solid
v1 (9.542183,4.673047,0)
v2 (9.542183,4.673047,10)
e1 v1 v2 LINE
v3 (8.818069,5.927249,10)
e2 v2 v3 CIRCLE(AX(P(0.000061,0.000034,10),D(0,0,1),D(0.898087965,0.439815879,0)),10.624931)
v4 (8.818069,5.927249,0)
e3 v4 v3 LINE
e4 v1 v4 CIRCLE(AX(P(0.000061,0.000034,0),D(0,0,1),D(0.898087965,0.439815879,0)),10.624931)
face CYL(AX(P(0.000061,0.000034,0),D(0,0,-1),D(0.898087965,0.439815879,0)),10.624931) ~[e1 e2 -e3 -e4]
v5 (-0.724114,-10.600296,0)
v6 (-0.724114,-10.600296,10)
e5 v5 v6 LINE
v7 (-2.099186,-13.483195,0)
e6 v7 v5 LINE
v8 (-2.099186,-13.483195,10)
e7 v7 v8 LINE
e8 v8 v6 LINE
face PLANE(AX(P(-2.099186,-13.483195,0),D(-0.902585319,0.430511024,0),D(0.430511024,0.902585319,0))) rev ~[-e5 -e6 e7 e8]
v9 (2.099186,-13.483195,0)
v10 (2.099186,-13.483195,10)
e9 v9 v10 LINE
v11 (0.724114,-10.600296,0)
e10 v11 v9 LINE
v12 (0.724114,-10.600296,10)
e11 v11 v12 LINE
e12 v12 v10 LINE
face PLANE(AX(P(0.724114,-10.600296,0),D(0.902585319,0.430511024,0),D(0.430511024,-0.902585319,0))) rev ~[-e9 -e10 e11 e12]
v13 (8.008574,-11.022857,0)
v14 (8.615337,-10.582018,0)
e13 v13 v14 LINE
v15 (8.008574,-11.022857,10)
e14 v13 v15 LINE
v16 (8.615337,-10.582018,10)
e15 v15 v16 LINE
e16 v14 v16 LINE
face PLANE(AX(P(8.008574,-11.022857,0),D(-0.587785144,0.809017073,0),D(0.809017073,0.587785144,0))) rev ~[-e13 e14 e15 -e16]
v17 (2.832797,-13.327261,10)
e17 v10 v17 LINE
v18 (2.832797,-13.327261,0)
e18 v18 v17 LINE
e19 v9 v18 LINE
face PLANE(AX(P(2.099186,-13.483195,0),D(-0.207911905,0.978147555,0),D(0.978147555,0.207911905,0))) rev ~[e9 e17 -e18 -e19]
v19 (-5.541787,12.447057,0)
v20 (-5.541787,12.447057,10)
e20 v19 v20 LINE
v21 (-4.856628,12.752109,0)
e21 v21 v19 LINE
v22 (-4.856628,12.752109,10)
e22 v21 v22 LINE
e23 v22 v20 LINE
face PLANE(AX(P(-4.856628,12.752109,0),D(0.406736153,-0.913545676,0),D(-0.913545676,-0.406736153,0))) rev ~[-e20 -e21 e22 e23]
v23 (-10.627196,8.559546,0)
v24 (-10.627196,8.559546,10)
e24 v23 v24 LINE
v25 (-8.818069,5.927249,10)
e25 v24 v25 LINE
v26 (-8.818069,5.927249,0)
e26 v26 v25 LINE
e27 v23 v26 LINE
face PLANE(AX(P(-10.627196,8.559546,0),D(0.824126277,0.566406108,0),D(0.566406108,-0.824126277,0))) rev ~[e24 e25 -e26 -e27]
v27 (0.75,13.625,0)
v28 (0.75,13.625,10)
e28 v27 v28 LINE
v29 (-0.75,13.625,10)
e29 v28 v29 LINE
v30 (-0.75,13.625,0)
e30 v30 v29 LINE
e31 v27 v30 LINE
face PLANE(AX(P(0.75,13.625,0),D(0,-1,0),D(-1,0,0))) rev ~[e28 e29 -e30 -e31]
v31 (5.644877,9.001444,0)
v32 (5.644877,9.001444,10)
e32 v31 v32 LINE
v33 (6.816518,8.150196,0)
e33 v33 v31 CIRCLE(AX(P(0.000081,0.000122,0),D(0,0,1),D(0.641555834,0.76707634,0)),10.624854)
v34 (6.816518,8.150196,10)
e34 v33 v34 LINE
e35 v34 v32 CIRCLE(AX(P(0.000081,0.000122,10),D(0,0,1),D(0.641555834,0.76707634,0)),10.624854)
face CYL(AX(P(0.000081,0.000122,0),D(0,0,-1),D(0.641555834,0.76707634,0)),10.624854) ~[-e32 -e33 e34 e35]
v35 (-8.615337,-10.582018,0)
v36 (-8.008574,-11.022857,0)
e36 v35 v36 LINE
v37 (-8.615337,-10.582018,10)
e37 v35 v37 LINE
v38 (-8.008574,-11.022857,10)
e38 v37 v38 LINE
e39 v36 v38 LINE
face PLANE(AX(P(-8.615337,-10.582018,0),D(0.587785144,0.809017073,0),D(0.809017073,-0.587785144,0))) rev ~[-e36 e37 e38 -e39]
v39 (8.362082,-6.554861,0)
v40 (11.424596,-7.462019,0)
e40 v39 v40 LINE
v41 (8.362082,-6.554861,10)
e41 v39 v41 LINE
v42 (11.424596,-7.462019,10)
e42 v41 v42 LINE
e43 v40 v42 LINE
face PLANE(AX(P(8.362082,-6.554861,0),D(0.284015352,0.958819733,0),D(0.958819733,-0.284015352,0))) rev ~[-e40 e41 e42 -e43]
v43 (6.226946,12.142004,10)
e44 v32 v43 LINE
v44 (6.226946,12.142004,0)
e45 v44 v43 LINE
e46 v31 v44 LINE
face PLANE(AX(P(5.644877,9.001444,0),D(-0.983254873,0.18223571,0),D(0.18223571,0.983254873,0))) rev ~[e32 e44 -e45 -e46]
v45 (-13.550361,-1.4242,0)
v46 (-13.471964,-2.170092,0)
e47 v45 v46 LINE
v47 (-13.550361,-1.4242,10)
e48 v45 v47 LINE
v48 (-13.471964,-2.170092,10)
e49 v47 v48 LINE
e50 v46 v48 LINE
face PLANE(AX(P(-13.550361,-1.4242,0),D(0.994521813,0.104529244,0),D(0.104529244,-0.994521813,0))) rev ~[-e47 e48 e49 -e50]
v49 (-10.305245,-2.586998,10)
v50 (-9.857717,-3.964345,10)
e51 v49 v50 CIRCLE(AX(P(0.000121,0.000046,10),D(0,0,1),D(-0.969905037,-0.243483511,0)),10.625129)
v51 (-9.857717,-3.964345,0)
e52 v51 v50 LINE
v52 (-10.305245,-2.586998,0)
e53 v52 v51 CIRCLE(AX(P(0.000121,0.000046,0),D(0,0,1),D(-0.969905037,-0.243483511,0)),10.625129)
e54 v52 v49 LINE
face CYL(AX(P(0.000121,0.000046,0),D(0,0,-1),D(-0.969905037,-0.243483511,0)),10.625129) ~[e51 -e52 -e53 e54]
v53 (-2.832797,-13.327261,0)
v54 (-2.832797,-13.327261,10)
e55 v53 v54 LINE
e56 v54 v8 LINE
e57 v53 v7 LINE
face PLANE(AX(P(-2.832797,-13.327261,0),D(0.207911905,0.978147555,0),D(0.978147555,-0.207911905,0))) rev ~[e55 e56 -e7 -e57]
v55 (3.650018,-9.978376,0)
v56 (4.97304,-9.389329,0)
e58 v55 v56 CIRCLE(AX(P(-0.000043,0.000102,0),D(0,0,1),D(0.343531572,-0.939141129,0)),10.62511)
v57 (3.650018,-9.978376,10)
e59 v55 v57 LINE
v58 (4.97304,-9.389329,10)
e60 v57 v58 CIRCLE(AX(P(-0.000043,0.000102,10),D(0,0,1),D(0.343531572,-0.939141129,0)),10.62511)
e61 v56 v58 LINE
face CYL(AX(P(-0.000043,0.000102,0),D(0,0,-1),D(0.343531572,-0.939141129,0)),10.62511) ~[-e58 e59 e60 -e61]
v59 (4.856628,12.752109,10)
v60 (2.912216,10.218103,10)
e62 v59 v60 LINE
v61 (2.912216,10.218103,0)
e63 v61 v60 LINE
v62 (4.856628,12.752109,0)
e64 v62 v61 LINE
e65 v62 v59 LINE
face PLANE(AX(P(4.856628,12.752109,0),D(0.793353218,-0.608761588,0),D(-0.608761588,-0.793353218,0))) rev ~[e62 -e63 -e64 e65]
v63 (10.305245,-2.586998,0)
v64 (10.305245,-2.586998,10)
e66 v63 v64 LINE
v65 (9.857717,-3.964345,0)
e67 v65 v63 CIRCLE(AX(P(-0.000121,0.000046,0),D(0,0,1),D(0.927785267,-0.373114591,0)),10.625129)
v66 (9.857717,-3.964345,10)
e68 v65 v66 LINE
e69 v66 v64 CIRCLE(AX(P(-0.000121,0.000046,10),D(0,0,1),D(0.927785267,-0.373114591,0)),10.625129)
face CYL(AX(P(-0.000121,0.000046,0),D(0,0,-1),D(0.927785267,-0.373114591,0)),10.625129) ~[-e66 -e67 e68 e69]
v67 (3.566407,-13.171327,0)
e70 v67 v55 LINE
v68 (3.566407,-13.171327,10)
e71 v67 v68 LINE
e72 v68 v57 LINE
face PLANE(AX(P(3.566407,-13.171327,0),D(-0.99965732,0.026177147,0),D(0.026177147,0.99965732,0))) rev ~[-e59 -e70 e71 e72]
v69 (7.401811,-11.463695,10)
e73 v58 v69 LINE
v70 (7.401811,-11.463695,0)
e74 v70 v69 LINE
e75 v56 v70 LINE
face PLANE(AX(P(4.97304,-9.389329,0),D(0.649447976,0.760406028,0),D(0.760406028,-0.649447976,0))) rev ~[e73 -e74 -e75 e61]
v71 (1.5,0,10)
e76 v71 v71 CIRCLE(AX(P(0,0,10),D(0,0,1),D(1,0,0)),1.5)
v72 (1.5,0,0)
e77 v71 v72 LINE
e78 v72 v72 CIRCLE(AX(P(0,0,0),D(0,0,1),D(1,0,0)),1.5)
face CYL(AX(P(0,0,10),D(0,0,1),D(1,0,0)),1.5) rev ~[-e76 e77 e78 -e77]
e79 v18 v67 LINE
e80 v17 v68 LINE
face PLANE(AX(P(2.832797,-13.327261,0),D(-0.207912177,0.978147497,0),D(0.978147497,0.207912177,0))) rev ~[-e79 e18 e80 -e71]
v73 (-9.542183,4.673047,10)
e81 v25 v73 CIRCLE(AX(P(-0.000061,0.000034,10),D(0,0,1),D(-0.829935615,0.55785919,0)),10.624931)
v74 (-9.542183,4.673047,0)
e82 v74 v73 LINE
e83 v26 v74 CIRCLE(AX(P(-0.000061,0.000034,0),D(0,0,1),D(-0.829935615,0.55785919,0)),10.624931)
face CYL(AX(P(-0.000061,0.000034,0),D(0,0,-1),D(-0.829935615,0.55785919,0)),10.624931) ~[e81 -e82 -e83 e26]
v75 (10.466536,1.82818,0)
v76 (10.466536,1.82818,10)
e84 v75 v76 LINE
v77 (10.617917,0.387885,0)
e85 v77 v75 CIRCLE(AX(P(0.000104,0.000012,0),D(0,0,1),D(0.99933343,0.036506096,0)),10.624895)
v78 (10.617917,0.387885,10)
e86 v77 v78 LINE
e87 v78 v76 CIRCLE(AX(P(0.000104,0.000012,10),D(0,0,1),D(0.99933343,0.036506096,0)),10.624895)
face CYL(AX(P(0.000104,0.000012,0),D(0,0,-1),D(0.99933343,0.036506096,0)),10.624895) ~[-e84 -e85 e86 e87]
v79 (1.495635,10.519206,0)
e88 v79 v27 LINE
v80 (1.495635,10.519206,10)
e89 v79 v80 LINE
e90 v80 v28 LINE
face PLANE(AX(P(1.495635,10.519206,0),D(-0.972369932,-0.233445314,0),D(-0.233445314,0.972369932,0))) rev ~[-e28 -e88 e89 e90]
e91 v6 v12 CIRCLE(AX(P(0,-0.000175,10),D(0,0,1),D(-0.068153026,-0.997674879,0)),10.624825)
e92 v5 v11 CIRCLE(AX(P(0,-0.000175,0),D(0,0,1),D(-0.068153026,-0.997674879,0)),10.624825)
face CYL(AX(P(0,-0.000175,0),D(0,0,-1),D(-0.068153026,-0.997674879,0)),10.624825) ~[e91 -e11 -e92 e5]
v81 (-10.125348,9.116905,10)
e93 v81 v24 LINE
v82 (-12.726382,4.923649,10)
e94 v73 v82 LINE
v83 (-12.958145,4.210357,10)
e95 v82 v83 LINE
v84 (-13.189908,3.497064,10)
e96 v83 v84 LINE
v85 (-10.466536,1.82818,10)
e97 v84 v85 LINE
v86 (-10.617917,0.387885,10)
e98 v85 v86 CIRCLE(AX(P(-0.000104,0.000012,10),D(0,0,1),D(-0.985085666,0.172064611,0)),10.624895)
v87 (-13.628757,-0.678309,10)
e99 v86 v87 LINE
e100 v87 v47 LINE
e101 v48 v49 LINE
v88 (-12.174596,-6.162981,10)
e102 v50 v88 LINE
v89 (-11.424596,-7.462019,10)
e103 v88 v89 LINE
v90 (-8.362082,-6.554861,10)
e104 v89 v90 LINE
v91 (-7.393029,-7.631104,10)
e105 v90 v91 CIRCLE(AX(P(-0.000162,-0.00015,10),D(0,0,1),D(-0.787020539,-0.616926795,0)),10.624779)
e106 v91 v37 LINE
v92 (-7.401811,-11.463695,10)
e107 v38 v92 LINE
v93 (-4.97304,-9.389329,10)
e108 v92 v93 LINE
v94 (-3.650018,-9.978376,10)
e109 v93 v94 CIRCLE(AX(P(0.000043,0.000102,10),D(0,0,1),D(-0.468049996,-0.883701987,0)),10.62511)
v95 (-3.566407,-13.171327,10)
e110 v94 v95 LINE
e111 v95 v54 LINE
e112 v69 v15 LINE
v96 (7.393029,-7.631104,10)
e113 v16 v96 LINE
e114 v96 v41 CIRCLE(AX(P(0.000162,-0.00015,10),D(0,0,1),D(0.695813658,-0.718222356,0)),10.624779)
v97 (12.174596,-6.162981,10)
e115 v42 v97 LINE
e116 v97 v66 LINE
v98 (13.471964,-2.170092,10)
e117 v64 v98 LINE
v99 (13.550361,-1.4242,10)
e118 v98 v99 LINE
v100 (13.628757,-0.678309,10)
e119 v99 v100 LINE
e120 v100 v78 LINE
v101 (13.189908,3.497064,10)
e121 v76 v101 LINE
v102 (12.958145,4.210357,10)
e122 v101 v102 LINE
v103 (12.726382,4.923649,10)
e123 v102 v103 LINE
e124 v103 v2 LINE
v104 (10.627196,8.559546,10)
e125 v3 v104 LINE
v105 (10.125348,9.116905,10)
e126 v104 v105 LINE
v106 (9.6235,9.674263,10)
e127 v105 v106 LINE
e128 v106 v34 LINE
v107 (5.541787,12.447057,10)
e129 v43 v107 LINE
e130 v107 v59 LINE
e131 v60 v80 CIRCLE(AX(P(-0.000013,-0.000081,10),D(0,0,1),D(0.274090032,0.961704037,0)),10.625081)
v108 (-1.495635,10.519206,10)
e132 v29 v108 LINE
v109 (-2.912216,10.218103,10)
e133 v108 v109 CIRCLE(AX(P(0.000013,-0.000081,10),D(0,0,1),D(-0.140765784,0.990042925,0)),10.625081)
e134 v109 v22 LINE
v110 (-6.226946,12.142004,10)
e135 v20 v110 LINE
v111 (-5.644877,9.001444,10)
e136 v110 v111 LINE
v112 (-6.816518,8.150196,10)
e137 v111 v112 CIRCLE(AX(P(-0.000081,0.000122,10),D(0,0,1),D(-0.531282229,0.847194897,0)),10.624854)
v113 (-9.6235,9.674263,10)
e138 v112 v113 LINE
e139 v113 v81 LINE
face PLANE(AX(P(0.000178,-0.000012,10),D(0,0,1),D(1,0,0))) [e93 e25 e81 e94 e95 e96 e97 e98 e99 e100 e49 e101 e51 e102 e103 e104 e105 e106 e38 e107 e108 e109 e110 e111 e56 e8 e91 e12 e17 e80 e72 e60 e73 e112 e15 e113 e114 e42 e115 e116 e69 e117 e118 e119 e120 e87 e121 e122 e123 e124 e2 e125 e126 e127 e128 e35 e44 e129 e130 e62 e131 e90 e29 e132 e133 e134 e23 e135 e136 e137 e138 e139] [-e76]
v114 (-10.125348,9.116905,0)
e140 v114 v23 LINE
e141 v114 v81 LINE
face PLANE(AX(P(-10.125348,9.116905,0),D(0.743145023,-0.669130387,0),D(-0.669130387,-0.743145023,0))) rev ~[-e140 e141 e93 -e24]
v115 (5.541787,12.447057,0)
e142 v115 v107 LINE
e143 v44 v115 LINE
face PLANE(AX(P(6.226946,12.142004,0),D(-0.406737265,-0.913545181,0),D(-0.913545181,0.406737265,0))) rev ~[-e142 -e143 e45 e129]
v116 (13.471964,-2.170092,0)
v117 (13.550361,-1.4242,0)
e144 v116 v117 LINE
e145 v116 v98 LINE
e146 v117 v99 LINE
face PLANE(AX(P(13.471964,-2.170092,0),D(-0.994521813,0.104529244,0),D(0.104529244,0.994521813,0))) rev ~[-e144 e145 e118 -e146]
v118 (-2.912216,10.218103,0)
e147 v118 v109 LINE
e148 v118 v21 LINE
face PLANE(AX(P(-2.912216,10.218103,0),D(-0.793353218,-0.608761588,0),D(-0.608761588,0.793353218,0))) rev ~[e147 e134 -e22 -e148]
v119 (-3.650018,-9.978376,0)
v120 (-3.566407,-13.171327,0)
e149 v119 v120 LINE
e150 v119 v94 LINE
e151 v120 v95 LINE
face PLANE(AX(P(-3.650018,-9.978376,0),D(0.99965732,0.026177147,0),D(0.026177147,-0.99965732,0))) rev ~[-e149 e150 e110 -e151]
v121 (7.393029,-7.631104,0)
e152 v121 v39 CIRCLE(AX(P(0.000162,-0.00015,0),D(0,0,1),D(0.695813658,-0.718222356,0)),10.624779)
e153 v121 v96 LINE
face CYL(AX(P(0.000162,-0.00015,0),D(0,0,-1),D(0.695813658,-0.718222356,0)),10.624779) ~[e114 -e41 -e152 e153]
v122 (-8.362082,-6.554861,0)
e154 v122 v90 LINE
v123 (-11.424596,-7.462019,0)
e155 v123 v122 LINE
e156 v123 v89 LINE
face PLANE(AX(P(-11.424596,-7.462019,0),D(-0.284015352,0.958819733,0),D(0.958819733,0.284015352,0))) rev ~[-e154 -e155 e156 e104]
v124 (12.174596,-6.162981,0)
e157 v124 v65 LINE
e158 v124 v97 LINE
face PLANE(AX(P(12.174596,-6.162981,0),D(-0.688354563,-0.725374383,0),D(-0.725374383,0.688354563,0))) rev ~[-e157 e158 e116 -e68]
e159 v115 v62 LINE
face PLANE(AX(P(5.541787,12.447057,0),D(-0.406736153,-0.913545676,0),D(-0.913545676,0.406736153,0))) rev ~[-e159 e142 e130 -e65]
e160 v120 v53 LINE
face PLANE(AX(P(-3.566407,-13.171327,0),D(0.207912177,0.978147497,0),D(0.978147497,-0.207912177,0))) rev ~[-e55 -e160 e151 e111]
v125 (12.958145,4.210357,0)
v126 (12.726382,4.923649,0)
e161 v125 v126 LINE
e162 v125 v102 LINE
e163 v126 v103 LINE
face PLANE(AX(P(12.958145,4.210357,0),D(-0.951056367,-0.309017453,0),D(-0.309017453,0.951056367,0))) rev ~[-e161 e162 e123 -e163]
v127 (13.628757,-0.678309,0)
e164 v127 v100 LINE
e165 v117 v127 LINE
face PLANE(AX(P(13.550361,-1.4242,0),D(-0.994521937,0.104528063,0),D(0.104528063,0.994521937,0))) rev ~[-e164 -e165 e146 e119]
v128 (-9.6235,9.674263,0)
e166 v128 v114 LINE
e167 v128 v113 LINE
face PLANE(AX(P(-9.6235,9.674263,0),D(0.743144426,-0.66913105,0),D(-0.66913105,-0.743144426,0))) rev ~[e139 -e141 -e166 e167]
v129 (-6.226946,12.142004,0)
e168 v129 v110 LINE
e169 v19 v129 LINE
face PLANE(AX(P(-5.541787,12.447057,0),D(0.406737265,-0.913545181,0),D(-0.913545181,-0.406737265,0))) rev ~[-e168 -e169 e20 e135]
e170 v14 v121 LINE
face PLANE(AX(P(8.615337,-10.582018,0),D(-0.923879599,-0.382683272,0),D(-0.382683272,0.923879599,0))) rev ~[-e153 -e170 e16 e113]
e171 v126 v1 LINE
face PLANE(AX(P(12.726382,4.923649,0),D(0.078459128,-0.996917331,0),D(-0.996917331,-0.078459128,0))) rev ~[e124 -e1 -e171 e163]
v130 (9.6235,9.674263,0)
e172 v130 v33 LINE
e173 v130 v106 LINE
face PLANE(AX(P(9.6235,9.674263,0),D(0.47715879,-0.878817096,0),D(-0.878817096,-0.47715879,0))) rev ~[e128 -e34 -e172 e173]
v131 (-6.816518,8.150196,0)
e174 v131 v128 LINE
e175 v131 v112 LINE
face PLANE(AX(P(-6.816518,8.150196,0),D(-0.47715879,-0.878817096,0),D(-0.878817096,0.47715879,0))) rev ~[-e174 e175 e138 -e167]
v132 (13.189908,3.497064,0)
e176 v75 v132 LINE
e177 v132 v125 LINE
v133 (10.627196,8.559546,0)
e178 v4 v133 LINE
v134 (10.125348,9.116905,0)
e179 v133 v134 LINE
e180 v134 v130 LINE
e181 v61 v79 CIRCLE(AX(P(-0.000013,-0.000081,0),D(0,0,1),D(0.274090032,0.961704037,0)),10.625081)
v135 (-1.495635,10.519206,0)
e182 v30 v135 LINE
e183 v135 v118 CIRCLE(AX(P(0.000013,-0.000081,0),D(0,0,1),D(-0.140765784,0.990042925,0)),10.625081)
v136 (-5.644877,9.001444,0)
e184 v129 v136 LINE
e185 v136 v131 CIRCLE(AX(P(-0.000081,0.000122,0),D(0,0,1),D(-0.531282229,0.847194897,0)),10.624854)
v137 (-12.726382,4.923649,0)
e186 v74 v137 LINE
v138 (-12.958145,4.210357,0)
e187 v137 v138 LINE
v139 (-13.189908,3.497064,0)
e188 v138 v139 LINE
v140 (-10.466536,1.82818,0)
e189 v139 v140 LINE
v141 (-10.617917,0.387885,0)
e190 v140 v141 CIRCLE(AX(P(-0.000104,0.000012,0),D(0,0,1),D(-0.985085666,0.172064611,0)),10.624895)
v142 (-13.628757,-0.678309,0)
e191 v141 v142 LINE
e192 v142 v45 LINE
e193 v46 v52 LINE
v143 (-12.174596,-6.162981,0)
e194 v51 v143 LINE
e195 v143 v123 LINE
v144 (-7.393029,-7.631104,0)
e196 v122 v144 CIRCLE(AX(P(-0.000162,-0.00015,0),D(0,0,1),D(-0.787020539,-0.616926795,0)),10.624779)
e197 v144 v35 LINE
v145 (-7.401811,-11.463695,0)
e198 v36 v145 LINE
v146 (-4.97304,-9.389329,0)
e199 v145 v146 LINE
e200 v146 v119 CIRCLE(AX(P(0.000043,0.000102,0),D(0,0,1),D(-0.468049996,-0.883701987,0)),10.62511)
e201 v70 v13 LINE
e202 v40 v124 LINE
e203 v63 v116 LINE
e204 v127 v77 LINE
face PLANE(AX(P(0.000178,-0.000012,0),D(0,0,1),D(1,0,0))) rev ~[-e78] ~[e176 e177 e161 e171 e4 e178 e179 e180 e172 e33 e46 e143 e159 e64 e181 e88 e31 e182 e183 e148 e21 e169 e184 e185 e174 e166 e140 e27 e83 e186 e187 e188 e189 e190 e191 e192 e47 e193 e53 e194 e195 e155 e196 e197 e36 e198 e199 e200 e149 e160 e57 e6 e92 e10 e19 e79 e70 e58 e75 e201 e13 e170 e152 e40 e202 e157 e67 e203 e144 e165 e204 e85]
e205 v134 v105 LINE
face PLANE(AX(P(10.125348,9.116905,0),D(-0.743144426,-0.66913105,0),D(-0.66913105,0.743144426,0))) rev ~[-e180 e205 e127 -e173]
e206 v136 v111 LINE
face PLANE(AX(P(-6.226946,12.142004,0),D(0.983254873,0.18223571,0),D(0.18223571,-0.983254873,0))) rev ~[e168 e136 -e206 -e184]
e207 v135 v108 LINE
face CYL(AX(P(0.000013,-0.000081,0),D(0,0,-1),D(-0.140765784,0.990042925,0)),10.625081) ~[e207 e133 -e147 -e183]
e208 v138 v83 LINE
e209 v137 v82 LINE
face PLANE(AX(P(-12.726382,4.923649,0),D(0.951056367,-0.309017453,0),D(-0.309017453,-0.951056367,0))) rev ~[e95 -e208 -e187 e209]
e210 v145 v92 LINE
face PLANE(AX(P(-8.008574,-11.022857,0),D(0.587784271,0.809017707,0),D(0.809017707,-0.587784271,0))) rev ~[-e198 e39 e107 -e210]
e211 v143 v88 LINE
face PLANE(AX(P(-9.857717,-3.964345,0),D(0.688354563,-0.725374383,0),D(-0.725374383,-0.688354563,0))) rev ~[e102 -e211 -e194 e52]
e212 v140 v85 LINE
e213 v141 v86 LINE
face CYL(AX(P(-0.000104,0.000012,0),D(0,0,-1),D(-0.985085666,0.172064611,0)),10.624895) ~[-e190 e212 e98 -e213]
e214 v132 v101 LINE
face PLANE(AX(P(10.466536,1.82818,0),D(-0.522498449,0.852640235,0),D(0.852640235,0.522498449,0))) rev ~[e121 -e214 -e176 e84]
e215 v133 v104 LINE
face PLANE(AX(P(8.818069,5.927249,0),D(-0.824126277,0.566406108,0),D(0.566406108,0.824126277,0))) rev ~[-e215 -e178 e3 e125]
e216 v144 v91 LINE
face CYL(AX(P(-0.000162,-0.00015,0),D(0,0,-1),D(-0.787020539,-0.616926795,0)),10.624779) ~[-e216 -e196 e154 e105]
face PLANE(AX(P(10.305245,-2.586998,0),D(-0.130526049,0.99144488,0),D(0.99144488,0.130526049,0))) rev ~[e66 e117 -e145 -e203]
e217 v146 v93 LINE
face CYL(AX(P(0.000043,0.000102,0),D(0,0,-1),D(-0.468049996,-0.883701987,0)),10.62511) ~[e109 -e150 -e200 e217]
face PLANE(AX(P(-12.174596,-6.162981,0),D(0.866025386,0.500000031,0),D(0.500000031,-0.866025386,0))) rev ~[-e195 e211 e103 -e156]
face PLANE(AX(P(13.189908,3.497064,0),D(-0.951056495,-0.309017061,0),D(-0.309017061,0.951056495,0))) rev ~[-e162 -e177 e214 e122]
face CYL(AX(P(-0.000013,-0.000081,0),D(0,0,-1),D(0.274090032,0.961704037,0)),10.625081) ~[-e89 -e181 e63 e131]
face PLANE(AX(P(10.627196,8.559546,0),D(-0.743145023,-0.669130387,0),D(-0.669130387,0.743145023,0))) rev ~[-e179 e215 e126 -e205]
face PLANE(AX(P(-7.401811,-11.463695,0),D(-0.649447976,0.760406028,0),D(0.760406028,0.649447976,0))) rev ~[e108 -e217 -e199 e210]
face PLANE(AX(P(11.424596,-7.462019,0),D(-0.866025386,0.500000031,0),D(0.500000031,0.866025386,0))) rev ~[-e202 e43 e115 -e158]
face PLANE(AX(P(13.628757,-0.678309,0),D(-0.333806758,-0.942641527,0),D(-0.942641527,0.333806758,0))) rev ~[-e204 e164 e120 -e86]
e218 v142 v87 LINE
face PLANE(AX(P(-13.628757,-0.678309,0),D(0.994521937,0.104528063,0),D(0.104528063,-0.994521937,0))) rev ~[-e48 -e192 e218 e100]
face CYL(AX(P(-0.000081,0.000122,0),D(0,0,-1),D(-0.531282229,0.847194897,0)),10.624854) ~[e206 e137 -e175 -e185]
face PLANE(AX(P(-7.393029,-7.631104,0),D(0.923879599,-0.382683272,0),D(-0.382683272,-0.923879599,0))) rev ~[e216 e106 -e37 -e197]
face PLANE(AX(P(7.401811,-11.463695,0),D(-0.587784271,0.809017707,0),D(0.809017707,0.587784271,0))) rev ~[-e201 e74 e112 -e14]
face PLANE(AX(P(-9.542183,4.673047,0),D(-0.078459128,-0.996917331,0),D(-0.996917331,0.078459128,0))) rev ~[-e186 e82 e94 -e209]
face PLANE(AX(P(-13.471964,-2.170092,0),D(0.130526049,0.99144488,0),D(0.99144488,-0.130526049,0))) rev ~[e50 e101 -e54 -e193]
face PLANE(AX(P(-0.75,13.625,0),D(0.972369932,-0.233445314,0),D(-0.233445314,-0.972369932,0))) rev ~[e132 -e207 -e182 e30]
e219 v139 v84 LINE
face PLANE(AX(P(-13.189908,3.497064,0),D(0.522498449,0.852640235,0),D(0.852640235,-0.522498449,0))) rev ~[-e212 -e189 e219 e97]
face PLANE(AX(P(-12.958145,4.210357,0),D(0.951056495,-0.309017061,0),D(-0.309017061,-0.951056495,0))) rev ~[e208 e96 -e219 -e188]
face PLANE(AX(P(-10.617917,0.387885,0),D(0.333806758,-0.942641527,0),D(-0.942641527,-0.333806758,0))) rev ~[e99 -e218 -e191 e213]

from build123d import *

# Parameters (mm, degrees)
F1_DEPTH = 10
F2_R     = 1.5
F3_DEPTH = 10.001


with BuildPart() as f1:
    # F0 (on Top) → F1 (new body)
    with BuildSketch(Plane.XY):
        with BuildLine():
            ThreePointArc((10.305245, -2.586998), (10.544758, -1.303342), (10.625, 0))
            ThreePointArc((10.625, 0), (10.623229, 0.193975), (10.617917, 0.387885))
            ThreePointArc((10.617917, 0.387885), (10.566795, 1.110615), (10.466536, 1.82818))
            ThreePointArc((10.466536, 1.82818), (10.104975, 3.283306), (9.542183, 4.673047))
            ThreePointArc((9.542183, 4.673047), (9.20152, 5.3125), (8.818069, 5.927249))
            ThreePointArc((8.818069, 5.927249), (7.895914, 7.109513), (6.816518, 8.150196))
            ThreePointArc((6.816518, 8.150196), (6.245218, 8.595806), (5.644877, 9.001444))
            ThreePointArc((5.644877, 9.001444), (4.321577, 9.70642), (2.912216, 10.218103))
            ThreePointArc((2.912216, 10.218103), (2.209062, 10.392818), (1.495635, 10.519206))
            ThreePointArc((1.495635, 10.519206), (0, 10.625), (-1.495635, 10.519206))
            ThreePointArc((-1.495635, 10.519206), (-2.209062, 10.392818), (-2.912216, 10.218103))
            ThreePointArc((-2.912216, 10.218103), (-4.321577, 9.70642), (-5.644877, 9.001444))
            ThreePointArc((-5.644877, 9.001444), (-6.245218, 8.595806), (-6.816518, 8.150196))
            ThreePointArc((-6.816518, 8.150196), (-7.895914, 7.109513), (-8.818069, 5.927249))
            ThreePointArc((-8.818069, 5.927249), (-9.20152, 5.3125), (-9.542183, 4.673047))
            ThreePointArc((-9.542183, 4.673047), (-10.104975, 3.283306), (-10.466536, 1.82818))
            ThreePointArc((-10.466536, 1.82818), (-10.566795, 1.110615), (-10.617917, 0.387885))
            ThreePointArc((-10.617917, 0.387885), (-10.566795, -1.110615), (-10.305245, -2.586998))
            ThreePointArc((-10.305245, -2.586998), (-10.104975, -3.283306), (-9.857717, -3.964345))
            ThreePointArc((-9.857717, -3.964345), (-9.20152, -5.3125), (-8.362082, -6.554861))
            ThreePointArc((-8.362082, -6.554861), (-7.895914, -7.109513), (-7.393029, -7.631104))
            ThreePointArc((-7.393029, -7.631104), (-6.245218, -8.595806), (-4.97304, -9.389329))
            ThreePointArc((-4.97304, -9.389329), (-4.321577, -9.70642), (-3.650018, -9.978376))
            ThreePointArc((-3.650018, -9.978376), (-2.209062, -10.392818), (-0.724114, -10.600296))
            ThreePointArc((-0.724114, -10.600296), (0, -10.625), (0.724114, -10.600296))
            ThreePointArc((0.724114, -10.600296), (2.209062, -10.392818), (3.650018, -9.978376))
            ThreePointArc((3.650018, -9.978376), (4.321577, -9.70642), (4.97304, -9.389329))
            ThreePointArc((4.97304, -9.389329), (6.245218, -8.595806), (7.393029, -7.631104))
            ThreePointArc((7.393029, -7.631104), (7.895914, -7.109513), (8.362082, -6.554861))
            ThreePointArc((8.362082, -6.554861), (9.20152, -5.3125), (9.857717, -3.964345))
            ThreePointArc((9.857717, -3.964345), (10.104975, -3.283306), (10.305245, -2.586998))
        make_face()
        with BuildLine():
            ThreePointArc((10.617917, 0.387885), (10.623229, 0.193975), (10.625, 0))
            ThreePointArc((10.625, 0), (10.544758, -1.303342), (10.305245, -2.586998))
            Line((10.305245, -2.586998), (13.471964, -2.170092))
            Line((13.471964, -2.170092), (13.550361, -1.4242))
            Line((13.550361, -1.4242), (13.628757, -0.678309))
            Line((13.628757, -0.678309), (10.617917, 0.387885))
        make_face()
        with BuildLine():
            ThreePointArc((9.542183, 4.673047), (10.104975, 3.283306), (10.466536, 1.82818))
            Line((10.466536, 1.82818), (13.189908, 3.497064))
            Line((13.189908, 3.497064), (12.958145, 4.210357))
            Line((12.958145, 4.210357), (12.726382, 4.923649))
            Line((12.726382, 4.923649), (9.542183, 4.673047))
        make_face()
        with BuildLine():
            Line((12.174596, -6.162981), (9.857717, -3.964345))
            ThreePointArc((9.857717, -3.964345), (9.20152, -5.3125), (8.362082, -6.554861))
            Line((8.362082, -6.554861), (11.424596, -7.462019))
            Line((11.424596, -7.462019), (11.799596, -6.8125))
            Line((11.799596, -6.8125), (12.174596, -6.162981))
        make_face()
        with BuildLine():
            ThreePointArc((6.816518, 8.150196), (7.895914, 7.109513), (8.818069, 5.927249))
            Line((8.818069, 5.927249), (10.627196, 8.559546))
            Line((10.627196, 8.559546), (10.125348, 9.116905))
            Line((10.125348, 9.116905), (9.6235, 9.674263))
            Line((9.6235, 9.674263), (6.816518, 8.150196))
        make_face()
        with BuildLine():
            Line((8.615337, -10.582018), (7.393029, -7.631104))
            ThreePointArc((7.393029, -7.631104), (6.245218, -8.595806), (4.97304, -9.389329))
            Line((4.97304, -9.389329), (7.401811, -11.463695))
            Line((7.401811, -11.463695), (8.008574, -11.022857))
            Line((8.008574, -11.022857), (8.615337, -10.582018))
        make_face()
        with BuildLine():
            ThreePointArc((2.912216, 10.218103), (4.321577, 9.70642), (5.644877, 9.001444))
            Line((5.644877, 9.001444), (6.226946, 12.142004))
            Line((6.226946, 12.142004), (5.541787, 12.447057))
            Line((5.541787, 12.447057), (4.856628, 12.752109))
            Line((4.856628, 12.752109), (2.912216, 10.218103))
        make_face()
        with BuildLine():
            Line((3.566407, -13.171327), (3.650018, -9.978376))
            ThreePointArc((3.650018, -9.978376), (2.209062, -10.392818), (0.724114, -10.600296))
            Line((0.724114, -10.600296), (2.099186, -13.483195))
            Line((2.099186, -13.483195), (2.832797, -13.327261))
            Line((2.832797, -13.327261), (3.566407, -13.171327))
        make_face()
        with BuildLine():
            ThreePointArc((-1.495635, 10.519206), (0, 10.625), (1.495635, 10.519206))
            Line((1.495635, 10.519206), (0.75, 13.625))
            Line((0.75, 13.625), (0, 13.625))
            Line((0, 13.625), (-0.75, 13.625))
            Line((-0.75, 13.625), (-1.495635, 10.519206))
        make_face()
        with BuildLine():
            Line((-2.099186, -13.483195), (-0.724114, -10.600296))
            ThreePointArc((-0.724114, -10.600296), (-2.209062, -10.392818), (-3.650018, -9.978376))
            Line((-3.650018, -9.978376), (-3.566407, -13.171327))
            Line((-3.566407, -13.171327), (-2.832797, -13.327261))
            Line((-2.832797, -13.327261), (-2.099186, -13.483195))
        make_face()
        with BuildLine():
            ThreePointArc((-5.644877, 9.001444), (-4.321577, 9.70642), (-2.912216, 10.218103))
            Line((-2.912216, 10.218103), (-4.856628, 12.752109))
            Line((-4.856628, 12.752109), (-5.541787, 12.447057))
            Line((-5.541787, 12.447057), (-6.226946, 12.142004))
            Line((-6.226946, 12.142004), (-5.644877, 9.001444))
        make_face()
        with BuildLine():
            Line((-7.401811, -11.463695), (-4.97304, -9.389329))
            ThreePointArc((-4.97304, -9.389329), (-6.245218, -8.595806), (-7.393029, -7.631104))
            Line((-7.393029, -7.631104), (-8.615337, -10.582018))
            Line((-8.615337, -10.582018), (-8.008574, -11.022857))
            Line((-8.008574, -11.022857), (-7.401811, -11.463695))
        make_face()
        with BuildLine():
            ThreePointArc((-8.818069, 5.927249), (-7.895914, 7.109513), (-6.816518, 8.150196))
            Line((-6.816518, 8.150196), (-9.6235, 9.674263))
            Line((-9.6235, 9.674263), (-10.125348, 9.116905))
            Line((-10.125348, 9.116905), (-10.627196, 8.559546))
            Line((-10.627196, 8.559546), (-8.818069, 5.927249))
        make_face()
        with BuildLine():
            Line((-11.424596, -7.462019), (-8.362082, -6.554861))
            ThreePointArc((-8.362082, -6.554861), (-9.20152, -5.3125), (-9.857717, -3.964345))
            Line((-9.857717, -3.964345), (-12.174596, -6.162981))
            Line((-12.174596, -6.162981), (-11.799596, -6.8125))
            Line((-11.799596, -6.8125), (-11.424596, -7.462019))
        make_face()
        with BuildLine():
            ThreePointArc((-10.466536, 1.82818), (-10.104975, 3.283306), (-9.542183, 4.673047))
            Line((-9.542183, 4.673047), (-12.726382, 4.923649))
            Line((-12.726382, 4.923649), (-12.958145, 4.210357))
            Line((-12.958145, 4.210357), (-13.189908, 3.497064))
            Line((-13.189908, 3.497064), (-10.466536, 1.82818))
        make_face()
        with BuildLine():
            Line((-13.471964, -2.170092), (-10.305245, -2.586998))
            ThreePointArc((-10.305245, -2.586998), (-10.566795, -1.110615), (-10.617917, 0.387885))
            Line((-10.617917, 0.387885), (-13.628757, -0.678309))
            Line((-13.628757, -0.678309), (-13.550361, -1.4242))
            Line((-13.550361, -1.4242), (-13.471964, -2.170092))
        make_face()
    extrude(amount=F1_DEPTH)

    # F2 (on face) → F3 (cut, through all)
    with BuildSketch(Plane.XY.offset(10)):
        Circle(F2_R)
    extrude(amount=-F3_DEPTH, mode=Mode.SUBTRACT)


solid = f1.part
